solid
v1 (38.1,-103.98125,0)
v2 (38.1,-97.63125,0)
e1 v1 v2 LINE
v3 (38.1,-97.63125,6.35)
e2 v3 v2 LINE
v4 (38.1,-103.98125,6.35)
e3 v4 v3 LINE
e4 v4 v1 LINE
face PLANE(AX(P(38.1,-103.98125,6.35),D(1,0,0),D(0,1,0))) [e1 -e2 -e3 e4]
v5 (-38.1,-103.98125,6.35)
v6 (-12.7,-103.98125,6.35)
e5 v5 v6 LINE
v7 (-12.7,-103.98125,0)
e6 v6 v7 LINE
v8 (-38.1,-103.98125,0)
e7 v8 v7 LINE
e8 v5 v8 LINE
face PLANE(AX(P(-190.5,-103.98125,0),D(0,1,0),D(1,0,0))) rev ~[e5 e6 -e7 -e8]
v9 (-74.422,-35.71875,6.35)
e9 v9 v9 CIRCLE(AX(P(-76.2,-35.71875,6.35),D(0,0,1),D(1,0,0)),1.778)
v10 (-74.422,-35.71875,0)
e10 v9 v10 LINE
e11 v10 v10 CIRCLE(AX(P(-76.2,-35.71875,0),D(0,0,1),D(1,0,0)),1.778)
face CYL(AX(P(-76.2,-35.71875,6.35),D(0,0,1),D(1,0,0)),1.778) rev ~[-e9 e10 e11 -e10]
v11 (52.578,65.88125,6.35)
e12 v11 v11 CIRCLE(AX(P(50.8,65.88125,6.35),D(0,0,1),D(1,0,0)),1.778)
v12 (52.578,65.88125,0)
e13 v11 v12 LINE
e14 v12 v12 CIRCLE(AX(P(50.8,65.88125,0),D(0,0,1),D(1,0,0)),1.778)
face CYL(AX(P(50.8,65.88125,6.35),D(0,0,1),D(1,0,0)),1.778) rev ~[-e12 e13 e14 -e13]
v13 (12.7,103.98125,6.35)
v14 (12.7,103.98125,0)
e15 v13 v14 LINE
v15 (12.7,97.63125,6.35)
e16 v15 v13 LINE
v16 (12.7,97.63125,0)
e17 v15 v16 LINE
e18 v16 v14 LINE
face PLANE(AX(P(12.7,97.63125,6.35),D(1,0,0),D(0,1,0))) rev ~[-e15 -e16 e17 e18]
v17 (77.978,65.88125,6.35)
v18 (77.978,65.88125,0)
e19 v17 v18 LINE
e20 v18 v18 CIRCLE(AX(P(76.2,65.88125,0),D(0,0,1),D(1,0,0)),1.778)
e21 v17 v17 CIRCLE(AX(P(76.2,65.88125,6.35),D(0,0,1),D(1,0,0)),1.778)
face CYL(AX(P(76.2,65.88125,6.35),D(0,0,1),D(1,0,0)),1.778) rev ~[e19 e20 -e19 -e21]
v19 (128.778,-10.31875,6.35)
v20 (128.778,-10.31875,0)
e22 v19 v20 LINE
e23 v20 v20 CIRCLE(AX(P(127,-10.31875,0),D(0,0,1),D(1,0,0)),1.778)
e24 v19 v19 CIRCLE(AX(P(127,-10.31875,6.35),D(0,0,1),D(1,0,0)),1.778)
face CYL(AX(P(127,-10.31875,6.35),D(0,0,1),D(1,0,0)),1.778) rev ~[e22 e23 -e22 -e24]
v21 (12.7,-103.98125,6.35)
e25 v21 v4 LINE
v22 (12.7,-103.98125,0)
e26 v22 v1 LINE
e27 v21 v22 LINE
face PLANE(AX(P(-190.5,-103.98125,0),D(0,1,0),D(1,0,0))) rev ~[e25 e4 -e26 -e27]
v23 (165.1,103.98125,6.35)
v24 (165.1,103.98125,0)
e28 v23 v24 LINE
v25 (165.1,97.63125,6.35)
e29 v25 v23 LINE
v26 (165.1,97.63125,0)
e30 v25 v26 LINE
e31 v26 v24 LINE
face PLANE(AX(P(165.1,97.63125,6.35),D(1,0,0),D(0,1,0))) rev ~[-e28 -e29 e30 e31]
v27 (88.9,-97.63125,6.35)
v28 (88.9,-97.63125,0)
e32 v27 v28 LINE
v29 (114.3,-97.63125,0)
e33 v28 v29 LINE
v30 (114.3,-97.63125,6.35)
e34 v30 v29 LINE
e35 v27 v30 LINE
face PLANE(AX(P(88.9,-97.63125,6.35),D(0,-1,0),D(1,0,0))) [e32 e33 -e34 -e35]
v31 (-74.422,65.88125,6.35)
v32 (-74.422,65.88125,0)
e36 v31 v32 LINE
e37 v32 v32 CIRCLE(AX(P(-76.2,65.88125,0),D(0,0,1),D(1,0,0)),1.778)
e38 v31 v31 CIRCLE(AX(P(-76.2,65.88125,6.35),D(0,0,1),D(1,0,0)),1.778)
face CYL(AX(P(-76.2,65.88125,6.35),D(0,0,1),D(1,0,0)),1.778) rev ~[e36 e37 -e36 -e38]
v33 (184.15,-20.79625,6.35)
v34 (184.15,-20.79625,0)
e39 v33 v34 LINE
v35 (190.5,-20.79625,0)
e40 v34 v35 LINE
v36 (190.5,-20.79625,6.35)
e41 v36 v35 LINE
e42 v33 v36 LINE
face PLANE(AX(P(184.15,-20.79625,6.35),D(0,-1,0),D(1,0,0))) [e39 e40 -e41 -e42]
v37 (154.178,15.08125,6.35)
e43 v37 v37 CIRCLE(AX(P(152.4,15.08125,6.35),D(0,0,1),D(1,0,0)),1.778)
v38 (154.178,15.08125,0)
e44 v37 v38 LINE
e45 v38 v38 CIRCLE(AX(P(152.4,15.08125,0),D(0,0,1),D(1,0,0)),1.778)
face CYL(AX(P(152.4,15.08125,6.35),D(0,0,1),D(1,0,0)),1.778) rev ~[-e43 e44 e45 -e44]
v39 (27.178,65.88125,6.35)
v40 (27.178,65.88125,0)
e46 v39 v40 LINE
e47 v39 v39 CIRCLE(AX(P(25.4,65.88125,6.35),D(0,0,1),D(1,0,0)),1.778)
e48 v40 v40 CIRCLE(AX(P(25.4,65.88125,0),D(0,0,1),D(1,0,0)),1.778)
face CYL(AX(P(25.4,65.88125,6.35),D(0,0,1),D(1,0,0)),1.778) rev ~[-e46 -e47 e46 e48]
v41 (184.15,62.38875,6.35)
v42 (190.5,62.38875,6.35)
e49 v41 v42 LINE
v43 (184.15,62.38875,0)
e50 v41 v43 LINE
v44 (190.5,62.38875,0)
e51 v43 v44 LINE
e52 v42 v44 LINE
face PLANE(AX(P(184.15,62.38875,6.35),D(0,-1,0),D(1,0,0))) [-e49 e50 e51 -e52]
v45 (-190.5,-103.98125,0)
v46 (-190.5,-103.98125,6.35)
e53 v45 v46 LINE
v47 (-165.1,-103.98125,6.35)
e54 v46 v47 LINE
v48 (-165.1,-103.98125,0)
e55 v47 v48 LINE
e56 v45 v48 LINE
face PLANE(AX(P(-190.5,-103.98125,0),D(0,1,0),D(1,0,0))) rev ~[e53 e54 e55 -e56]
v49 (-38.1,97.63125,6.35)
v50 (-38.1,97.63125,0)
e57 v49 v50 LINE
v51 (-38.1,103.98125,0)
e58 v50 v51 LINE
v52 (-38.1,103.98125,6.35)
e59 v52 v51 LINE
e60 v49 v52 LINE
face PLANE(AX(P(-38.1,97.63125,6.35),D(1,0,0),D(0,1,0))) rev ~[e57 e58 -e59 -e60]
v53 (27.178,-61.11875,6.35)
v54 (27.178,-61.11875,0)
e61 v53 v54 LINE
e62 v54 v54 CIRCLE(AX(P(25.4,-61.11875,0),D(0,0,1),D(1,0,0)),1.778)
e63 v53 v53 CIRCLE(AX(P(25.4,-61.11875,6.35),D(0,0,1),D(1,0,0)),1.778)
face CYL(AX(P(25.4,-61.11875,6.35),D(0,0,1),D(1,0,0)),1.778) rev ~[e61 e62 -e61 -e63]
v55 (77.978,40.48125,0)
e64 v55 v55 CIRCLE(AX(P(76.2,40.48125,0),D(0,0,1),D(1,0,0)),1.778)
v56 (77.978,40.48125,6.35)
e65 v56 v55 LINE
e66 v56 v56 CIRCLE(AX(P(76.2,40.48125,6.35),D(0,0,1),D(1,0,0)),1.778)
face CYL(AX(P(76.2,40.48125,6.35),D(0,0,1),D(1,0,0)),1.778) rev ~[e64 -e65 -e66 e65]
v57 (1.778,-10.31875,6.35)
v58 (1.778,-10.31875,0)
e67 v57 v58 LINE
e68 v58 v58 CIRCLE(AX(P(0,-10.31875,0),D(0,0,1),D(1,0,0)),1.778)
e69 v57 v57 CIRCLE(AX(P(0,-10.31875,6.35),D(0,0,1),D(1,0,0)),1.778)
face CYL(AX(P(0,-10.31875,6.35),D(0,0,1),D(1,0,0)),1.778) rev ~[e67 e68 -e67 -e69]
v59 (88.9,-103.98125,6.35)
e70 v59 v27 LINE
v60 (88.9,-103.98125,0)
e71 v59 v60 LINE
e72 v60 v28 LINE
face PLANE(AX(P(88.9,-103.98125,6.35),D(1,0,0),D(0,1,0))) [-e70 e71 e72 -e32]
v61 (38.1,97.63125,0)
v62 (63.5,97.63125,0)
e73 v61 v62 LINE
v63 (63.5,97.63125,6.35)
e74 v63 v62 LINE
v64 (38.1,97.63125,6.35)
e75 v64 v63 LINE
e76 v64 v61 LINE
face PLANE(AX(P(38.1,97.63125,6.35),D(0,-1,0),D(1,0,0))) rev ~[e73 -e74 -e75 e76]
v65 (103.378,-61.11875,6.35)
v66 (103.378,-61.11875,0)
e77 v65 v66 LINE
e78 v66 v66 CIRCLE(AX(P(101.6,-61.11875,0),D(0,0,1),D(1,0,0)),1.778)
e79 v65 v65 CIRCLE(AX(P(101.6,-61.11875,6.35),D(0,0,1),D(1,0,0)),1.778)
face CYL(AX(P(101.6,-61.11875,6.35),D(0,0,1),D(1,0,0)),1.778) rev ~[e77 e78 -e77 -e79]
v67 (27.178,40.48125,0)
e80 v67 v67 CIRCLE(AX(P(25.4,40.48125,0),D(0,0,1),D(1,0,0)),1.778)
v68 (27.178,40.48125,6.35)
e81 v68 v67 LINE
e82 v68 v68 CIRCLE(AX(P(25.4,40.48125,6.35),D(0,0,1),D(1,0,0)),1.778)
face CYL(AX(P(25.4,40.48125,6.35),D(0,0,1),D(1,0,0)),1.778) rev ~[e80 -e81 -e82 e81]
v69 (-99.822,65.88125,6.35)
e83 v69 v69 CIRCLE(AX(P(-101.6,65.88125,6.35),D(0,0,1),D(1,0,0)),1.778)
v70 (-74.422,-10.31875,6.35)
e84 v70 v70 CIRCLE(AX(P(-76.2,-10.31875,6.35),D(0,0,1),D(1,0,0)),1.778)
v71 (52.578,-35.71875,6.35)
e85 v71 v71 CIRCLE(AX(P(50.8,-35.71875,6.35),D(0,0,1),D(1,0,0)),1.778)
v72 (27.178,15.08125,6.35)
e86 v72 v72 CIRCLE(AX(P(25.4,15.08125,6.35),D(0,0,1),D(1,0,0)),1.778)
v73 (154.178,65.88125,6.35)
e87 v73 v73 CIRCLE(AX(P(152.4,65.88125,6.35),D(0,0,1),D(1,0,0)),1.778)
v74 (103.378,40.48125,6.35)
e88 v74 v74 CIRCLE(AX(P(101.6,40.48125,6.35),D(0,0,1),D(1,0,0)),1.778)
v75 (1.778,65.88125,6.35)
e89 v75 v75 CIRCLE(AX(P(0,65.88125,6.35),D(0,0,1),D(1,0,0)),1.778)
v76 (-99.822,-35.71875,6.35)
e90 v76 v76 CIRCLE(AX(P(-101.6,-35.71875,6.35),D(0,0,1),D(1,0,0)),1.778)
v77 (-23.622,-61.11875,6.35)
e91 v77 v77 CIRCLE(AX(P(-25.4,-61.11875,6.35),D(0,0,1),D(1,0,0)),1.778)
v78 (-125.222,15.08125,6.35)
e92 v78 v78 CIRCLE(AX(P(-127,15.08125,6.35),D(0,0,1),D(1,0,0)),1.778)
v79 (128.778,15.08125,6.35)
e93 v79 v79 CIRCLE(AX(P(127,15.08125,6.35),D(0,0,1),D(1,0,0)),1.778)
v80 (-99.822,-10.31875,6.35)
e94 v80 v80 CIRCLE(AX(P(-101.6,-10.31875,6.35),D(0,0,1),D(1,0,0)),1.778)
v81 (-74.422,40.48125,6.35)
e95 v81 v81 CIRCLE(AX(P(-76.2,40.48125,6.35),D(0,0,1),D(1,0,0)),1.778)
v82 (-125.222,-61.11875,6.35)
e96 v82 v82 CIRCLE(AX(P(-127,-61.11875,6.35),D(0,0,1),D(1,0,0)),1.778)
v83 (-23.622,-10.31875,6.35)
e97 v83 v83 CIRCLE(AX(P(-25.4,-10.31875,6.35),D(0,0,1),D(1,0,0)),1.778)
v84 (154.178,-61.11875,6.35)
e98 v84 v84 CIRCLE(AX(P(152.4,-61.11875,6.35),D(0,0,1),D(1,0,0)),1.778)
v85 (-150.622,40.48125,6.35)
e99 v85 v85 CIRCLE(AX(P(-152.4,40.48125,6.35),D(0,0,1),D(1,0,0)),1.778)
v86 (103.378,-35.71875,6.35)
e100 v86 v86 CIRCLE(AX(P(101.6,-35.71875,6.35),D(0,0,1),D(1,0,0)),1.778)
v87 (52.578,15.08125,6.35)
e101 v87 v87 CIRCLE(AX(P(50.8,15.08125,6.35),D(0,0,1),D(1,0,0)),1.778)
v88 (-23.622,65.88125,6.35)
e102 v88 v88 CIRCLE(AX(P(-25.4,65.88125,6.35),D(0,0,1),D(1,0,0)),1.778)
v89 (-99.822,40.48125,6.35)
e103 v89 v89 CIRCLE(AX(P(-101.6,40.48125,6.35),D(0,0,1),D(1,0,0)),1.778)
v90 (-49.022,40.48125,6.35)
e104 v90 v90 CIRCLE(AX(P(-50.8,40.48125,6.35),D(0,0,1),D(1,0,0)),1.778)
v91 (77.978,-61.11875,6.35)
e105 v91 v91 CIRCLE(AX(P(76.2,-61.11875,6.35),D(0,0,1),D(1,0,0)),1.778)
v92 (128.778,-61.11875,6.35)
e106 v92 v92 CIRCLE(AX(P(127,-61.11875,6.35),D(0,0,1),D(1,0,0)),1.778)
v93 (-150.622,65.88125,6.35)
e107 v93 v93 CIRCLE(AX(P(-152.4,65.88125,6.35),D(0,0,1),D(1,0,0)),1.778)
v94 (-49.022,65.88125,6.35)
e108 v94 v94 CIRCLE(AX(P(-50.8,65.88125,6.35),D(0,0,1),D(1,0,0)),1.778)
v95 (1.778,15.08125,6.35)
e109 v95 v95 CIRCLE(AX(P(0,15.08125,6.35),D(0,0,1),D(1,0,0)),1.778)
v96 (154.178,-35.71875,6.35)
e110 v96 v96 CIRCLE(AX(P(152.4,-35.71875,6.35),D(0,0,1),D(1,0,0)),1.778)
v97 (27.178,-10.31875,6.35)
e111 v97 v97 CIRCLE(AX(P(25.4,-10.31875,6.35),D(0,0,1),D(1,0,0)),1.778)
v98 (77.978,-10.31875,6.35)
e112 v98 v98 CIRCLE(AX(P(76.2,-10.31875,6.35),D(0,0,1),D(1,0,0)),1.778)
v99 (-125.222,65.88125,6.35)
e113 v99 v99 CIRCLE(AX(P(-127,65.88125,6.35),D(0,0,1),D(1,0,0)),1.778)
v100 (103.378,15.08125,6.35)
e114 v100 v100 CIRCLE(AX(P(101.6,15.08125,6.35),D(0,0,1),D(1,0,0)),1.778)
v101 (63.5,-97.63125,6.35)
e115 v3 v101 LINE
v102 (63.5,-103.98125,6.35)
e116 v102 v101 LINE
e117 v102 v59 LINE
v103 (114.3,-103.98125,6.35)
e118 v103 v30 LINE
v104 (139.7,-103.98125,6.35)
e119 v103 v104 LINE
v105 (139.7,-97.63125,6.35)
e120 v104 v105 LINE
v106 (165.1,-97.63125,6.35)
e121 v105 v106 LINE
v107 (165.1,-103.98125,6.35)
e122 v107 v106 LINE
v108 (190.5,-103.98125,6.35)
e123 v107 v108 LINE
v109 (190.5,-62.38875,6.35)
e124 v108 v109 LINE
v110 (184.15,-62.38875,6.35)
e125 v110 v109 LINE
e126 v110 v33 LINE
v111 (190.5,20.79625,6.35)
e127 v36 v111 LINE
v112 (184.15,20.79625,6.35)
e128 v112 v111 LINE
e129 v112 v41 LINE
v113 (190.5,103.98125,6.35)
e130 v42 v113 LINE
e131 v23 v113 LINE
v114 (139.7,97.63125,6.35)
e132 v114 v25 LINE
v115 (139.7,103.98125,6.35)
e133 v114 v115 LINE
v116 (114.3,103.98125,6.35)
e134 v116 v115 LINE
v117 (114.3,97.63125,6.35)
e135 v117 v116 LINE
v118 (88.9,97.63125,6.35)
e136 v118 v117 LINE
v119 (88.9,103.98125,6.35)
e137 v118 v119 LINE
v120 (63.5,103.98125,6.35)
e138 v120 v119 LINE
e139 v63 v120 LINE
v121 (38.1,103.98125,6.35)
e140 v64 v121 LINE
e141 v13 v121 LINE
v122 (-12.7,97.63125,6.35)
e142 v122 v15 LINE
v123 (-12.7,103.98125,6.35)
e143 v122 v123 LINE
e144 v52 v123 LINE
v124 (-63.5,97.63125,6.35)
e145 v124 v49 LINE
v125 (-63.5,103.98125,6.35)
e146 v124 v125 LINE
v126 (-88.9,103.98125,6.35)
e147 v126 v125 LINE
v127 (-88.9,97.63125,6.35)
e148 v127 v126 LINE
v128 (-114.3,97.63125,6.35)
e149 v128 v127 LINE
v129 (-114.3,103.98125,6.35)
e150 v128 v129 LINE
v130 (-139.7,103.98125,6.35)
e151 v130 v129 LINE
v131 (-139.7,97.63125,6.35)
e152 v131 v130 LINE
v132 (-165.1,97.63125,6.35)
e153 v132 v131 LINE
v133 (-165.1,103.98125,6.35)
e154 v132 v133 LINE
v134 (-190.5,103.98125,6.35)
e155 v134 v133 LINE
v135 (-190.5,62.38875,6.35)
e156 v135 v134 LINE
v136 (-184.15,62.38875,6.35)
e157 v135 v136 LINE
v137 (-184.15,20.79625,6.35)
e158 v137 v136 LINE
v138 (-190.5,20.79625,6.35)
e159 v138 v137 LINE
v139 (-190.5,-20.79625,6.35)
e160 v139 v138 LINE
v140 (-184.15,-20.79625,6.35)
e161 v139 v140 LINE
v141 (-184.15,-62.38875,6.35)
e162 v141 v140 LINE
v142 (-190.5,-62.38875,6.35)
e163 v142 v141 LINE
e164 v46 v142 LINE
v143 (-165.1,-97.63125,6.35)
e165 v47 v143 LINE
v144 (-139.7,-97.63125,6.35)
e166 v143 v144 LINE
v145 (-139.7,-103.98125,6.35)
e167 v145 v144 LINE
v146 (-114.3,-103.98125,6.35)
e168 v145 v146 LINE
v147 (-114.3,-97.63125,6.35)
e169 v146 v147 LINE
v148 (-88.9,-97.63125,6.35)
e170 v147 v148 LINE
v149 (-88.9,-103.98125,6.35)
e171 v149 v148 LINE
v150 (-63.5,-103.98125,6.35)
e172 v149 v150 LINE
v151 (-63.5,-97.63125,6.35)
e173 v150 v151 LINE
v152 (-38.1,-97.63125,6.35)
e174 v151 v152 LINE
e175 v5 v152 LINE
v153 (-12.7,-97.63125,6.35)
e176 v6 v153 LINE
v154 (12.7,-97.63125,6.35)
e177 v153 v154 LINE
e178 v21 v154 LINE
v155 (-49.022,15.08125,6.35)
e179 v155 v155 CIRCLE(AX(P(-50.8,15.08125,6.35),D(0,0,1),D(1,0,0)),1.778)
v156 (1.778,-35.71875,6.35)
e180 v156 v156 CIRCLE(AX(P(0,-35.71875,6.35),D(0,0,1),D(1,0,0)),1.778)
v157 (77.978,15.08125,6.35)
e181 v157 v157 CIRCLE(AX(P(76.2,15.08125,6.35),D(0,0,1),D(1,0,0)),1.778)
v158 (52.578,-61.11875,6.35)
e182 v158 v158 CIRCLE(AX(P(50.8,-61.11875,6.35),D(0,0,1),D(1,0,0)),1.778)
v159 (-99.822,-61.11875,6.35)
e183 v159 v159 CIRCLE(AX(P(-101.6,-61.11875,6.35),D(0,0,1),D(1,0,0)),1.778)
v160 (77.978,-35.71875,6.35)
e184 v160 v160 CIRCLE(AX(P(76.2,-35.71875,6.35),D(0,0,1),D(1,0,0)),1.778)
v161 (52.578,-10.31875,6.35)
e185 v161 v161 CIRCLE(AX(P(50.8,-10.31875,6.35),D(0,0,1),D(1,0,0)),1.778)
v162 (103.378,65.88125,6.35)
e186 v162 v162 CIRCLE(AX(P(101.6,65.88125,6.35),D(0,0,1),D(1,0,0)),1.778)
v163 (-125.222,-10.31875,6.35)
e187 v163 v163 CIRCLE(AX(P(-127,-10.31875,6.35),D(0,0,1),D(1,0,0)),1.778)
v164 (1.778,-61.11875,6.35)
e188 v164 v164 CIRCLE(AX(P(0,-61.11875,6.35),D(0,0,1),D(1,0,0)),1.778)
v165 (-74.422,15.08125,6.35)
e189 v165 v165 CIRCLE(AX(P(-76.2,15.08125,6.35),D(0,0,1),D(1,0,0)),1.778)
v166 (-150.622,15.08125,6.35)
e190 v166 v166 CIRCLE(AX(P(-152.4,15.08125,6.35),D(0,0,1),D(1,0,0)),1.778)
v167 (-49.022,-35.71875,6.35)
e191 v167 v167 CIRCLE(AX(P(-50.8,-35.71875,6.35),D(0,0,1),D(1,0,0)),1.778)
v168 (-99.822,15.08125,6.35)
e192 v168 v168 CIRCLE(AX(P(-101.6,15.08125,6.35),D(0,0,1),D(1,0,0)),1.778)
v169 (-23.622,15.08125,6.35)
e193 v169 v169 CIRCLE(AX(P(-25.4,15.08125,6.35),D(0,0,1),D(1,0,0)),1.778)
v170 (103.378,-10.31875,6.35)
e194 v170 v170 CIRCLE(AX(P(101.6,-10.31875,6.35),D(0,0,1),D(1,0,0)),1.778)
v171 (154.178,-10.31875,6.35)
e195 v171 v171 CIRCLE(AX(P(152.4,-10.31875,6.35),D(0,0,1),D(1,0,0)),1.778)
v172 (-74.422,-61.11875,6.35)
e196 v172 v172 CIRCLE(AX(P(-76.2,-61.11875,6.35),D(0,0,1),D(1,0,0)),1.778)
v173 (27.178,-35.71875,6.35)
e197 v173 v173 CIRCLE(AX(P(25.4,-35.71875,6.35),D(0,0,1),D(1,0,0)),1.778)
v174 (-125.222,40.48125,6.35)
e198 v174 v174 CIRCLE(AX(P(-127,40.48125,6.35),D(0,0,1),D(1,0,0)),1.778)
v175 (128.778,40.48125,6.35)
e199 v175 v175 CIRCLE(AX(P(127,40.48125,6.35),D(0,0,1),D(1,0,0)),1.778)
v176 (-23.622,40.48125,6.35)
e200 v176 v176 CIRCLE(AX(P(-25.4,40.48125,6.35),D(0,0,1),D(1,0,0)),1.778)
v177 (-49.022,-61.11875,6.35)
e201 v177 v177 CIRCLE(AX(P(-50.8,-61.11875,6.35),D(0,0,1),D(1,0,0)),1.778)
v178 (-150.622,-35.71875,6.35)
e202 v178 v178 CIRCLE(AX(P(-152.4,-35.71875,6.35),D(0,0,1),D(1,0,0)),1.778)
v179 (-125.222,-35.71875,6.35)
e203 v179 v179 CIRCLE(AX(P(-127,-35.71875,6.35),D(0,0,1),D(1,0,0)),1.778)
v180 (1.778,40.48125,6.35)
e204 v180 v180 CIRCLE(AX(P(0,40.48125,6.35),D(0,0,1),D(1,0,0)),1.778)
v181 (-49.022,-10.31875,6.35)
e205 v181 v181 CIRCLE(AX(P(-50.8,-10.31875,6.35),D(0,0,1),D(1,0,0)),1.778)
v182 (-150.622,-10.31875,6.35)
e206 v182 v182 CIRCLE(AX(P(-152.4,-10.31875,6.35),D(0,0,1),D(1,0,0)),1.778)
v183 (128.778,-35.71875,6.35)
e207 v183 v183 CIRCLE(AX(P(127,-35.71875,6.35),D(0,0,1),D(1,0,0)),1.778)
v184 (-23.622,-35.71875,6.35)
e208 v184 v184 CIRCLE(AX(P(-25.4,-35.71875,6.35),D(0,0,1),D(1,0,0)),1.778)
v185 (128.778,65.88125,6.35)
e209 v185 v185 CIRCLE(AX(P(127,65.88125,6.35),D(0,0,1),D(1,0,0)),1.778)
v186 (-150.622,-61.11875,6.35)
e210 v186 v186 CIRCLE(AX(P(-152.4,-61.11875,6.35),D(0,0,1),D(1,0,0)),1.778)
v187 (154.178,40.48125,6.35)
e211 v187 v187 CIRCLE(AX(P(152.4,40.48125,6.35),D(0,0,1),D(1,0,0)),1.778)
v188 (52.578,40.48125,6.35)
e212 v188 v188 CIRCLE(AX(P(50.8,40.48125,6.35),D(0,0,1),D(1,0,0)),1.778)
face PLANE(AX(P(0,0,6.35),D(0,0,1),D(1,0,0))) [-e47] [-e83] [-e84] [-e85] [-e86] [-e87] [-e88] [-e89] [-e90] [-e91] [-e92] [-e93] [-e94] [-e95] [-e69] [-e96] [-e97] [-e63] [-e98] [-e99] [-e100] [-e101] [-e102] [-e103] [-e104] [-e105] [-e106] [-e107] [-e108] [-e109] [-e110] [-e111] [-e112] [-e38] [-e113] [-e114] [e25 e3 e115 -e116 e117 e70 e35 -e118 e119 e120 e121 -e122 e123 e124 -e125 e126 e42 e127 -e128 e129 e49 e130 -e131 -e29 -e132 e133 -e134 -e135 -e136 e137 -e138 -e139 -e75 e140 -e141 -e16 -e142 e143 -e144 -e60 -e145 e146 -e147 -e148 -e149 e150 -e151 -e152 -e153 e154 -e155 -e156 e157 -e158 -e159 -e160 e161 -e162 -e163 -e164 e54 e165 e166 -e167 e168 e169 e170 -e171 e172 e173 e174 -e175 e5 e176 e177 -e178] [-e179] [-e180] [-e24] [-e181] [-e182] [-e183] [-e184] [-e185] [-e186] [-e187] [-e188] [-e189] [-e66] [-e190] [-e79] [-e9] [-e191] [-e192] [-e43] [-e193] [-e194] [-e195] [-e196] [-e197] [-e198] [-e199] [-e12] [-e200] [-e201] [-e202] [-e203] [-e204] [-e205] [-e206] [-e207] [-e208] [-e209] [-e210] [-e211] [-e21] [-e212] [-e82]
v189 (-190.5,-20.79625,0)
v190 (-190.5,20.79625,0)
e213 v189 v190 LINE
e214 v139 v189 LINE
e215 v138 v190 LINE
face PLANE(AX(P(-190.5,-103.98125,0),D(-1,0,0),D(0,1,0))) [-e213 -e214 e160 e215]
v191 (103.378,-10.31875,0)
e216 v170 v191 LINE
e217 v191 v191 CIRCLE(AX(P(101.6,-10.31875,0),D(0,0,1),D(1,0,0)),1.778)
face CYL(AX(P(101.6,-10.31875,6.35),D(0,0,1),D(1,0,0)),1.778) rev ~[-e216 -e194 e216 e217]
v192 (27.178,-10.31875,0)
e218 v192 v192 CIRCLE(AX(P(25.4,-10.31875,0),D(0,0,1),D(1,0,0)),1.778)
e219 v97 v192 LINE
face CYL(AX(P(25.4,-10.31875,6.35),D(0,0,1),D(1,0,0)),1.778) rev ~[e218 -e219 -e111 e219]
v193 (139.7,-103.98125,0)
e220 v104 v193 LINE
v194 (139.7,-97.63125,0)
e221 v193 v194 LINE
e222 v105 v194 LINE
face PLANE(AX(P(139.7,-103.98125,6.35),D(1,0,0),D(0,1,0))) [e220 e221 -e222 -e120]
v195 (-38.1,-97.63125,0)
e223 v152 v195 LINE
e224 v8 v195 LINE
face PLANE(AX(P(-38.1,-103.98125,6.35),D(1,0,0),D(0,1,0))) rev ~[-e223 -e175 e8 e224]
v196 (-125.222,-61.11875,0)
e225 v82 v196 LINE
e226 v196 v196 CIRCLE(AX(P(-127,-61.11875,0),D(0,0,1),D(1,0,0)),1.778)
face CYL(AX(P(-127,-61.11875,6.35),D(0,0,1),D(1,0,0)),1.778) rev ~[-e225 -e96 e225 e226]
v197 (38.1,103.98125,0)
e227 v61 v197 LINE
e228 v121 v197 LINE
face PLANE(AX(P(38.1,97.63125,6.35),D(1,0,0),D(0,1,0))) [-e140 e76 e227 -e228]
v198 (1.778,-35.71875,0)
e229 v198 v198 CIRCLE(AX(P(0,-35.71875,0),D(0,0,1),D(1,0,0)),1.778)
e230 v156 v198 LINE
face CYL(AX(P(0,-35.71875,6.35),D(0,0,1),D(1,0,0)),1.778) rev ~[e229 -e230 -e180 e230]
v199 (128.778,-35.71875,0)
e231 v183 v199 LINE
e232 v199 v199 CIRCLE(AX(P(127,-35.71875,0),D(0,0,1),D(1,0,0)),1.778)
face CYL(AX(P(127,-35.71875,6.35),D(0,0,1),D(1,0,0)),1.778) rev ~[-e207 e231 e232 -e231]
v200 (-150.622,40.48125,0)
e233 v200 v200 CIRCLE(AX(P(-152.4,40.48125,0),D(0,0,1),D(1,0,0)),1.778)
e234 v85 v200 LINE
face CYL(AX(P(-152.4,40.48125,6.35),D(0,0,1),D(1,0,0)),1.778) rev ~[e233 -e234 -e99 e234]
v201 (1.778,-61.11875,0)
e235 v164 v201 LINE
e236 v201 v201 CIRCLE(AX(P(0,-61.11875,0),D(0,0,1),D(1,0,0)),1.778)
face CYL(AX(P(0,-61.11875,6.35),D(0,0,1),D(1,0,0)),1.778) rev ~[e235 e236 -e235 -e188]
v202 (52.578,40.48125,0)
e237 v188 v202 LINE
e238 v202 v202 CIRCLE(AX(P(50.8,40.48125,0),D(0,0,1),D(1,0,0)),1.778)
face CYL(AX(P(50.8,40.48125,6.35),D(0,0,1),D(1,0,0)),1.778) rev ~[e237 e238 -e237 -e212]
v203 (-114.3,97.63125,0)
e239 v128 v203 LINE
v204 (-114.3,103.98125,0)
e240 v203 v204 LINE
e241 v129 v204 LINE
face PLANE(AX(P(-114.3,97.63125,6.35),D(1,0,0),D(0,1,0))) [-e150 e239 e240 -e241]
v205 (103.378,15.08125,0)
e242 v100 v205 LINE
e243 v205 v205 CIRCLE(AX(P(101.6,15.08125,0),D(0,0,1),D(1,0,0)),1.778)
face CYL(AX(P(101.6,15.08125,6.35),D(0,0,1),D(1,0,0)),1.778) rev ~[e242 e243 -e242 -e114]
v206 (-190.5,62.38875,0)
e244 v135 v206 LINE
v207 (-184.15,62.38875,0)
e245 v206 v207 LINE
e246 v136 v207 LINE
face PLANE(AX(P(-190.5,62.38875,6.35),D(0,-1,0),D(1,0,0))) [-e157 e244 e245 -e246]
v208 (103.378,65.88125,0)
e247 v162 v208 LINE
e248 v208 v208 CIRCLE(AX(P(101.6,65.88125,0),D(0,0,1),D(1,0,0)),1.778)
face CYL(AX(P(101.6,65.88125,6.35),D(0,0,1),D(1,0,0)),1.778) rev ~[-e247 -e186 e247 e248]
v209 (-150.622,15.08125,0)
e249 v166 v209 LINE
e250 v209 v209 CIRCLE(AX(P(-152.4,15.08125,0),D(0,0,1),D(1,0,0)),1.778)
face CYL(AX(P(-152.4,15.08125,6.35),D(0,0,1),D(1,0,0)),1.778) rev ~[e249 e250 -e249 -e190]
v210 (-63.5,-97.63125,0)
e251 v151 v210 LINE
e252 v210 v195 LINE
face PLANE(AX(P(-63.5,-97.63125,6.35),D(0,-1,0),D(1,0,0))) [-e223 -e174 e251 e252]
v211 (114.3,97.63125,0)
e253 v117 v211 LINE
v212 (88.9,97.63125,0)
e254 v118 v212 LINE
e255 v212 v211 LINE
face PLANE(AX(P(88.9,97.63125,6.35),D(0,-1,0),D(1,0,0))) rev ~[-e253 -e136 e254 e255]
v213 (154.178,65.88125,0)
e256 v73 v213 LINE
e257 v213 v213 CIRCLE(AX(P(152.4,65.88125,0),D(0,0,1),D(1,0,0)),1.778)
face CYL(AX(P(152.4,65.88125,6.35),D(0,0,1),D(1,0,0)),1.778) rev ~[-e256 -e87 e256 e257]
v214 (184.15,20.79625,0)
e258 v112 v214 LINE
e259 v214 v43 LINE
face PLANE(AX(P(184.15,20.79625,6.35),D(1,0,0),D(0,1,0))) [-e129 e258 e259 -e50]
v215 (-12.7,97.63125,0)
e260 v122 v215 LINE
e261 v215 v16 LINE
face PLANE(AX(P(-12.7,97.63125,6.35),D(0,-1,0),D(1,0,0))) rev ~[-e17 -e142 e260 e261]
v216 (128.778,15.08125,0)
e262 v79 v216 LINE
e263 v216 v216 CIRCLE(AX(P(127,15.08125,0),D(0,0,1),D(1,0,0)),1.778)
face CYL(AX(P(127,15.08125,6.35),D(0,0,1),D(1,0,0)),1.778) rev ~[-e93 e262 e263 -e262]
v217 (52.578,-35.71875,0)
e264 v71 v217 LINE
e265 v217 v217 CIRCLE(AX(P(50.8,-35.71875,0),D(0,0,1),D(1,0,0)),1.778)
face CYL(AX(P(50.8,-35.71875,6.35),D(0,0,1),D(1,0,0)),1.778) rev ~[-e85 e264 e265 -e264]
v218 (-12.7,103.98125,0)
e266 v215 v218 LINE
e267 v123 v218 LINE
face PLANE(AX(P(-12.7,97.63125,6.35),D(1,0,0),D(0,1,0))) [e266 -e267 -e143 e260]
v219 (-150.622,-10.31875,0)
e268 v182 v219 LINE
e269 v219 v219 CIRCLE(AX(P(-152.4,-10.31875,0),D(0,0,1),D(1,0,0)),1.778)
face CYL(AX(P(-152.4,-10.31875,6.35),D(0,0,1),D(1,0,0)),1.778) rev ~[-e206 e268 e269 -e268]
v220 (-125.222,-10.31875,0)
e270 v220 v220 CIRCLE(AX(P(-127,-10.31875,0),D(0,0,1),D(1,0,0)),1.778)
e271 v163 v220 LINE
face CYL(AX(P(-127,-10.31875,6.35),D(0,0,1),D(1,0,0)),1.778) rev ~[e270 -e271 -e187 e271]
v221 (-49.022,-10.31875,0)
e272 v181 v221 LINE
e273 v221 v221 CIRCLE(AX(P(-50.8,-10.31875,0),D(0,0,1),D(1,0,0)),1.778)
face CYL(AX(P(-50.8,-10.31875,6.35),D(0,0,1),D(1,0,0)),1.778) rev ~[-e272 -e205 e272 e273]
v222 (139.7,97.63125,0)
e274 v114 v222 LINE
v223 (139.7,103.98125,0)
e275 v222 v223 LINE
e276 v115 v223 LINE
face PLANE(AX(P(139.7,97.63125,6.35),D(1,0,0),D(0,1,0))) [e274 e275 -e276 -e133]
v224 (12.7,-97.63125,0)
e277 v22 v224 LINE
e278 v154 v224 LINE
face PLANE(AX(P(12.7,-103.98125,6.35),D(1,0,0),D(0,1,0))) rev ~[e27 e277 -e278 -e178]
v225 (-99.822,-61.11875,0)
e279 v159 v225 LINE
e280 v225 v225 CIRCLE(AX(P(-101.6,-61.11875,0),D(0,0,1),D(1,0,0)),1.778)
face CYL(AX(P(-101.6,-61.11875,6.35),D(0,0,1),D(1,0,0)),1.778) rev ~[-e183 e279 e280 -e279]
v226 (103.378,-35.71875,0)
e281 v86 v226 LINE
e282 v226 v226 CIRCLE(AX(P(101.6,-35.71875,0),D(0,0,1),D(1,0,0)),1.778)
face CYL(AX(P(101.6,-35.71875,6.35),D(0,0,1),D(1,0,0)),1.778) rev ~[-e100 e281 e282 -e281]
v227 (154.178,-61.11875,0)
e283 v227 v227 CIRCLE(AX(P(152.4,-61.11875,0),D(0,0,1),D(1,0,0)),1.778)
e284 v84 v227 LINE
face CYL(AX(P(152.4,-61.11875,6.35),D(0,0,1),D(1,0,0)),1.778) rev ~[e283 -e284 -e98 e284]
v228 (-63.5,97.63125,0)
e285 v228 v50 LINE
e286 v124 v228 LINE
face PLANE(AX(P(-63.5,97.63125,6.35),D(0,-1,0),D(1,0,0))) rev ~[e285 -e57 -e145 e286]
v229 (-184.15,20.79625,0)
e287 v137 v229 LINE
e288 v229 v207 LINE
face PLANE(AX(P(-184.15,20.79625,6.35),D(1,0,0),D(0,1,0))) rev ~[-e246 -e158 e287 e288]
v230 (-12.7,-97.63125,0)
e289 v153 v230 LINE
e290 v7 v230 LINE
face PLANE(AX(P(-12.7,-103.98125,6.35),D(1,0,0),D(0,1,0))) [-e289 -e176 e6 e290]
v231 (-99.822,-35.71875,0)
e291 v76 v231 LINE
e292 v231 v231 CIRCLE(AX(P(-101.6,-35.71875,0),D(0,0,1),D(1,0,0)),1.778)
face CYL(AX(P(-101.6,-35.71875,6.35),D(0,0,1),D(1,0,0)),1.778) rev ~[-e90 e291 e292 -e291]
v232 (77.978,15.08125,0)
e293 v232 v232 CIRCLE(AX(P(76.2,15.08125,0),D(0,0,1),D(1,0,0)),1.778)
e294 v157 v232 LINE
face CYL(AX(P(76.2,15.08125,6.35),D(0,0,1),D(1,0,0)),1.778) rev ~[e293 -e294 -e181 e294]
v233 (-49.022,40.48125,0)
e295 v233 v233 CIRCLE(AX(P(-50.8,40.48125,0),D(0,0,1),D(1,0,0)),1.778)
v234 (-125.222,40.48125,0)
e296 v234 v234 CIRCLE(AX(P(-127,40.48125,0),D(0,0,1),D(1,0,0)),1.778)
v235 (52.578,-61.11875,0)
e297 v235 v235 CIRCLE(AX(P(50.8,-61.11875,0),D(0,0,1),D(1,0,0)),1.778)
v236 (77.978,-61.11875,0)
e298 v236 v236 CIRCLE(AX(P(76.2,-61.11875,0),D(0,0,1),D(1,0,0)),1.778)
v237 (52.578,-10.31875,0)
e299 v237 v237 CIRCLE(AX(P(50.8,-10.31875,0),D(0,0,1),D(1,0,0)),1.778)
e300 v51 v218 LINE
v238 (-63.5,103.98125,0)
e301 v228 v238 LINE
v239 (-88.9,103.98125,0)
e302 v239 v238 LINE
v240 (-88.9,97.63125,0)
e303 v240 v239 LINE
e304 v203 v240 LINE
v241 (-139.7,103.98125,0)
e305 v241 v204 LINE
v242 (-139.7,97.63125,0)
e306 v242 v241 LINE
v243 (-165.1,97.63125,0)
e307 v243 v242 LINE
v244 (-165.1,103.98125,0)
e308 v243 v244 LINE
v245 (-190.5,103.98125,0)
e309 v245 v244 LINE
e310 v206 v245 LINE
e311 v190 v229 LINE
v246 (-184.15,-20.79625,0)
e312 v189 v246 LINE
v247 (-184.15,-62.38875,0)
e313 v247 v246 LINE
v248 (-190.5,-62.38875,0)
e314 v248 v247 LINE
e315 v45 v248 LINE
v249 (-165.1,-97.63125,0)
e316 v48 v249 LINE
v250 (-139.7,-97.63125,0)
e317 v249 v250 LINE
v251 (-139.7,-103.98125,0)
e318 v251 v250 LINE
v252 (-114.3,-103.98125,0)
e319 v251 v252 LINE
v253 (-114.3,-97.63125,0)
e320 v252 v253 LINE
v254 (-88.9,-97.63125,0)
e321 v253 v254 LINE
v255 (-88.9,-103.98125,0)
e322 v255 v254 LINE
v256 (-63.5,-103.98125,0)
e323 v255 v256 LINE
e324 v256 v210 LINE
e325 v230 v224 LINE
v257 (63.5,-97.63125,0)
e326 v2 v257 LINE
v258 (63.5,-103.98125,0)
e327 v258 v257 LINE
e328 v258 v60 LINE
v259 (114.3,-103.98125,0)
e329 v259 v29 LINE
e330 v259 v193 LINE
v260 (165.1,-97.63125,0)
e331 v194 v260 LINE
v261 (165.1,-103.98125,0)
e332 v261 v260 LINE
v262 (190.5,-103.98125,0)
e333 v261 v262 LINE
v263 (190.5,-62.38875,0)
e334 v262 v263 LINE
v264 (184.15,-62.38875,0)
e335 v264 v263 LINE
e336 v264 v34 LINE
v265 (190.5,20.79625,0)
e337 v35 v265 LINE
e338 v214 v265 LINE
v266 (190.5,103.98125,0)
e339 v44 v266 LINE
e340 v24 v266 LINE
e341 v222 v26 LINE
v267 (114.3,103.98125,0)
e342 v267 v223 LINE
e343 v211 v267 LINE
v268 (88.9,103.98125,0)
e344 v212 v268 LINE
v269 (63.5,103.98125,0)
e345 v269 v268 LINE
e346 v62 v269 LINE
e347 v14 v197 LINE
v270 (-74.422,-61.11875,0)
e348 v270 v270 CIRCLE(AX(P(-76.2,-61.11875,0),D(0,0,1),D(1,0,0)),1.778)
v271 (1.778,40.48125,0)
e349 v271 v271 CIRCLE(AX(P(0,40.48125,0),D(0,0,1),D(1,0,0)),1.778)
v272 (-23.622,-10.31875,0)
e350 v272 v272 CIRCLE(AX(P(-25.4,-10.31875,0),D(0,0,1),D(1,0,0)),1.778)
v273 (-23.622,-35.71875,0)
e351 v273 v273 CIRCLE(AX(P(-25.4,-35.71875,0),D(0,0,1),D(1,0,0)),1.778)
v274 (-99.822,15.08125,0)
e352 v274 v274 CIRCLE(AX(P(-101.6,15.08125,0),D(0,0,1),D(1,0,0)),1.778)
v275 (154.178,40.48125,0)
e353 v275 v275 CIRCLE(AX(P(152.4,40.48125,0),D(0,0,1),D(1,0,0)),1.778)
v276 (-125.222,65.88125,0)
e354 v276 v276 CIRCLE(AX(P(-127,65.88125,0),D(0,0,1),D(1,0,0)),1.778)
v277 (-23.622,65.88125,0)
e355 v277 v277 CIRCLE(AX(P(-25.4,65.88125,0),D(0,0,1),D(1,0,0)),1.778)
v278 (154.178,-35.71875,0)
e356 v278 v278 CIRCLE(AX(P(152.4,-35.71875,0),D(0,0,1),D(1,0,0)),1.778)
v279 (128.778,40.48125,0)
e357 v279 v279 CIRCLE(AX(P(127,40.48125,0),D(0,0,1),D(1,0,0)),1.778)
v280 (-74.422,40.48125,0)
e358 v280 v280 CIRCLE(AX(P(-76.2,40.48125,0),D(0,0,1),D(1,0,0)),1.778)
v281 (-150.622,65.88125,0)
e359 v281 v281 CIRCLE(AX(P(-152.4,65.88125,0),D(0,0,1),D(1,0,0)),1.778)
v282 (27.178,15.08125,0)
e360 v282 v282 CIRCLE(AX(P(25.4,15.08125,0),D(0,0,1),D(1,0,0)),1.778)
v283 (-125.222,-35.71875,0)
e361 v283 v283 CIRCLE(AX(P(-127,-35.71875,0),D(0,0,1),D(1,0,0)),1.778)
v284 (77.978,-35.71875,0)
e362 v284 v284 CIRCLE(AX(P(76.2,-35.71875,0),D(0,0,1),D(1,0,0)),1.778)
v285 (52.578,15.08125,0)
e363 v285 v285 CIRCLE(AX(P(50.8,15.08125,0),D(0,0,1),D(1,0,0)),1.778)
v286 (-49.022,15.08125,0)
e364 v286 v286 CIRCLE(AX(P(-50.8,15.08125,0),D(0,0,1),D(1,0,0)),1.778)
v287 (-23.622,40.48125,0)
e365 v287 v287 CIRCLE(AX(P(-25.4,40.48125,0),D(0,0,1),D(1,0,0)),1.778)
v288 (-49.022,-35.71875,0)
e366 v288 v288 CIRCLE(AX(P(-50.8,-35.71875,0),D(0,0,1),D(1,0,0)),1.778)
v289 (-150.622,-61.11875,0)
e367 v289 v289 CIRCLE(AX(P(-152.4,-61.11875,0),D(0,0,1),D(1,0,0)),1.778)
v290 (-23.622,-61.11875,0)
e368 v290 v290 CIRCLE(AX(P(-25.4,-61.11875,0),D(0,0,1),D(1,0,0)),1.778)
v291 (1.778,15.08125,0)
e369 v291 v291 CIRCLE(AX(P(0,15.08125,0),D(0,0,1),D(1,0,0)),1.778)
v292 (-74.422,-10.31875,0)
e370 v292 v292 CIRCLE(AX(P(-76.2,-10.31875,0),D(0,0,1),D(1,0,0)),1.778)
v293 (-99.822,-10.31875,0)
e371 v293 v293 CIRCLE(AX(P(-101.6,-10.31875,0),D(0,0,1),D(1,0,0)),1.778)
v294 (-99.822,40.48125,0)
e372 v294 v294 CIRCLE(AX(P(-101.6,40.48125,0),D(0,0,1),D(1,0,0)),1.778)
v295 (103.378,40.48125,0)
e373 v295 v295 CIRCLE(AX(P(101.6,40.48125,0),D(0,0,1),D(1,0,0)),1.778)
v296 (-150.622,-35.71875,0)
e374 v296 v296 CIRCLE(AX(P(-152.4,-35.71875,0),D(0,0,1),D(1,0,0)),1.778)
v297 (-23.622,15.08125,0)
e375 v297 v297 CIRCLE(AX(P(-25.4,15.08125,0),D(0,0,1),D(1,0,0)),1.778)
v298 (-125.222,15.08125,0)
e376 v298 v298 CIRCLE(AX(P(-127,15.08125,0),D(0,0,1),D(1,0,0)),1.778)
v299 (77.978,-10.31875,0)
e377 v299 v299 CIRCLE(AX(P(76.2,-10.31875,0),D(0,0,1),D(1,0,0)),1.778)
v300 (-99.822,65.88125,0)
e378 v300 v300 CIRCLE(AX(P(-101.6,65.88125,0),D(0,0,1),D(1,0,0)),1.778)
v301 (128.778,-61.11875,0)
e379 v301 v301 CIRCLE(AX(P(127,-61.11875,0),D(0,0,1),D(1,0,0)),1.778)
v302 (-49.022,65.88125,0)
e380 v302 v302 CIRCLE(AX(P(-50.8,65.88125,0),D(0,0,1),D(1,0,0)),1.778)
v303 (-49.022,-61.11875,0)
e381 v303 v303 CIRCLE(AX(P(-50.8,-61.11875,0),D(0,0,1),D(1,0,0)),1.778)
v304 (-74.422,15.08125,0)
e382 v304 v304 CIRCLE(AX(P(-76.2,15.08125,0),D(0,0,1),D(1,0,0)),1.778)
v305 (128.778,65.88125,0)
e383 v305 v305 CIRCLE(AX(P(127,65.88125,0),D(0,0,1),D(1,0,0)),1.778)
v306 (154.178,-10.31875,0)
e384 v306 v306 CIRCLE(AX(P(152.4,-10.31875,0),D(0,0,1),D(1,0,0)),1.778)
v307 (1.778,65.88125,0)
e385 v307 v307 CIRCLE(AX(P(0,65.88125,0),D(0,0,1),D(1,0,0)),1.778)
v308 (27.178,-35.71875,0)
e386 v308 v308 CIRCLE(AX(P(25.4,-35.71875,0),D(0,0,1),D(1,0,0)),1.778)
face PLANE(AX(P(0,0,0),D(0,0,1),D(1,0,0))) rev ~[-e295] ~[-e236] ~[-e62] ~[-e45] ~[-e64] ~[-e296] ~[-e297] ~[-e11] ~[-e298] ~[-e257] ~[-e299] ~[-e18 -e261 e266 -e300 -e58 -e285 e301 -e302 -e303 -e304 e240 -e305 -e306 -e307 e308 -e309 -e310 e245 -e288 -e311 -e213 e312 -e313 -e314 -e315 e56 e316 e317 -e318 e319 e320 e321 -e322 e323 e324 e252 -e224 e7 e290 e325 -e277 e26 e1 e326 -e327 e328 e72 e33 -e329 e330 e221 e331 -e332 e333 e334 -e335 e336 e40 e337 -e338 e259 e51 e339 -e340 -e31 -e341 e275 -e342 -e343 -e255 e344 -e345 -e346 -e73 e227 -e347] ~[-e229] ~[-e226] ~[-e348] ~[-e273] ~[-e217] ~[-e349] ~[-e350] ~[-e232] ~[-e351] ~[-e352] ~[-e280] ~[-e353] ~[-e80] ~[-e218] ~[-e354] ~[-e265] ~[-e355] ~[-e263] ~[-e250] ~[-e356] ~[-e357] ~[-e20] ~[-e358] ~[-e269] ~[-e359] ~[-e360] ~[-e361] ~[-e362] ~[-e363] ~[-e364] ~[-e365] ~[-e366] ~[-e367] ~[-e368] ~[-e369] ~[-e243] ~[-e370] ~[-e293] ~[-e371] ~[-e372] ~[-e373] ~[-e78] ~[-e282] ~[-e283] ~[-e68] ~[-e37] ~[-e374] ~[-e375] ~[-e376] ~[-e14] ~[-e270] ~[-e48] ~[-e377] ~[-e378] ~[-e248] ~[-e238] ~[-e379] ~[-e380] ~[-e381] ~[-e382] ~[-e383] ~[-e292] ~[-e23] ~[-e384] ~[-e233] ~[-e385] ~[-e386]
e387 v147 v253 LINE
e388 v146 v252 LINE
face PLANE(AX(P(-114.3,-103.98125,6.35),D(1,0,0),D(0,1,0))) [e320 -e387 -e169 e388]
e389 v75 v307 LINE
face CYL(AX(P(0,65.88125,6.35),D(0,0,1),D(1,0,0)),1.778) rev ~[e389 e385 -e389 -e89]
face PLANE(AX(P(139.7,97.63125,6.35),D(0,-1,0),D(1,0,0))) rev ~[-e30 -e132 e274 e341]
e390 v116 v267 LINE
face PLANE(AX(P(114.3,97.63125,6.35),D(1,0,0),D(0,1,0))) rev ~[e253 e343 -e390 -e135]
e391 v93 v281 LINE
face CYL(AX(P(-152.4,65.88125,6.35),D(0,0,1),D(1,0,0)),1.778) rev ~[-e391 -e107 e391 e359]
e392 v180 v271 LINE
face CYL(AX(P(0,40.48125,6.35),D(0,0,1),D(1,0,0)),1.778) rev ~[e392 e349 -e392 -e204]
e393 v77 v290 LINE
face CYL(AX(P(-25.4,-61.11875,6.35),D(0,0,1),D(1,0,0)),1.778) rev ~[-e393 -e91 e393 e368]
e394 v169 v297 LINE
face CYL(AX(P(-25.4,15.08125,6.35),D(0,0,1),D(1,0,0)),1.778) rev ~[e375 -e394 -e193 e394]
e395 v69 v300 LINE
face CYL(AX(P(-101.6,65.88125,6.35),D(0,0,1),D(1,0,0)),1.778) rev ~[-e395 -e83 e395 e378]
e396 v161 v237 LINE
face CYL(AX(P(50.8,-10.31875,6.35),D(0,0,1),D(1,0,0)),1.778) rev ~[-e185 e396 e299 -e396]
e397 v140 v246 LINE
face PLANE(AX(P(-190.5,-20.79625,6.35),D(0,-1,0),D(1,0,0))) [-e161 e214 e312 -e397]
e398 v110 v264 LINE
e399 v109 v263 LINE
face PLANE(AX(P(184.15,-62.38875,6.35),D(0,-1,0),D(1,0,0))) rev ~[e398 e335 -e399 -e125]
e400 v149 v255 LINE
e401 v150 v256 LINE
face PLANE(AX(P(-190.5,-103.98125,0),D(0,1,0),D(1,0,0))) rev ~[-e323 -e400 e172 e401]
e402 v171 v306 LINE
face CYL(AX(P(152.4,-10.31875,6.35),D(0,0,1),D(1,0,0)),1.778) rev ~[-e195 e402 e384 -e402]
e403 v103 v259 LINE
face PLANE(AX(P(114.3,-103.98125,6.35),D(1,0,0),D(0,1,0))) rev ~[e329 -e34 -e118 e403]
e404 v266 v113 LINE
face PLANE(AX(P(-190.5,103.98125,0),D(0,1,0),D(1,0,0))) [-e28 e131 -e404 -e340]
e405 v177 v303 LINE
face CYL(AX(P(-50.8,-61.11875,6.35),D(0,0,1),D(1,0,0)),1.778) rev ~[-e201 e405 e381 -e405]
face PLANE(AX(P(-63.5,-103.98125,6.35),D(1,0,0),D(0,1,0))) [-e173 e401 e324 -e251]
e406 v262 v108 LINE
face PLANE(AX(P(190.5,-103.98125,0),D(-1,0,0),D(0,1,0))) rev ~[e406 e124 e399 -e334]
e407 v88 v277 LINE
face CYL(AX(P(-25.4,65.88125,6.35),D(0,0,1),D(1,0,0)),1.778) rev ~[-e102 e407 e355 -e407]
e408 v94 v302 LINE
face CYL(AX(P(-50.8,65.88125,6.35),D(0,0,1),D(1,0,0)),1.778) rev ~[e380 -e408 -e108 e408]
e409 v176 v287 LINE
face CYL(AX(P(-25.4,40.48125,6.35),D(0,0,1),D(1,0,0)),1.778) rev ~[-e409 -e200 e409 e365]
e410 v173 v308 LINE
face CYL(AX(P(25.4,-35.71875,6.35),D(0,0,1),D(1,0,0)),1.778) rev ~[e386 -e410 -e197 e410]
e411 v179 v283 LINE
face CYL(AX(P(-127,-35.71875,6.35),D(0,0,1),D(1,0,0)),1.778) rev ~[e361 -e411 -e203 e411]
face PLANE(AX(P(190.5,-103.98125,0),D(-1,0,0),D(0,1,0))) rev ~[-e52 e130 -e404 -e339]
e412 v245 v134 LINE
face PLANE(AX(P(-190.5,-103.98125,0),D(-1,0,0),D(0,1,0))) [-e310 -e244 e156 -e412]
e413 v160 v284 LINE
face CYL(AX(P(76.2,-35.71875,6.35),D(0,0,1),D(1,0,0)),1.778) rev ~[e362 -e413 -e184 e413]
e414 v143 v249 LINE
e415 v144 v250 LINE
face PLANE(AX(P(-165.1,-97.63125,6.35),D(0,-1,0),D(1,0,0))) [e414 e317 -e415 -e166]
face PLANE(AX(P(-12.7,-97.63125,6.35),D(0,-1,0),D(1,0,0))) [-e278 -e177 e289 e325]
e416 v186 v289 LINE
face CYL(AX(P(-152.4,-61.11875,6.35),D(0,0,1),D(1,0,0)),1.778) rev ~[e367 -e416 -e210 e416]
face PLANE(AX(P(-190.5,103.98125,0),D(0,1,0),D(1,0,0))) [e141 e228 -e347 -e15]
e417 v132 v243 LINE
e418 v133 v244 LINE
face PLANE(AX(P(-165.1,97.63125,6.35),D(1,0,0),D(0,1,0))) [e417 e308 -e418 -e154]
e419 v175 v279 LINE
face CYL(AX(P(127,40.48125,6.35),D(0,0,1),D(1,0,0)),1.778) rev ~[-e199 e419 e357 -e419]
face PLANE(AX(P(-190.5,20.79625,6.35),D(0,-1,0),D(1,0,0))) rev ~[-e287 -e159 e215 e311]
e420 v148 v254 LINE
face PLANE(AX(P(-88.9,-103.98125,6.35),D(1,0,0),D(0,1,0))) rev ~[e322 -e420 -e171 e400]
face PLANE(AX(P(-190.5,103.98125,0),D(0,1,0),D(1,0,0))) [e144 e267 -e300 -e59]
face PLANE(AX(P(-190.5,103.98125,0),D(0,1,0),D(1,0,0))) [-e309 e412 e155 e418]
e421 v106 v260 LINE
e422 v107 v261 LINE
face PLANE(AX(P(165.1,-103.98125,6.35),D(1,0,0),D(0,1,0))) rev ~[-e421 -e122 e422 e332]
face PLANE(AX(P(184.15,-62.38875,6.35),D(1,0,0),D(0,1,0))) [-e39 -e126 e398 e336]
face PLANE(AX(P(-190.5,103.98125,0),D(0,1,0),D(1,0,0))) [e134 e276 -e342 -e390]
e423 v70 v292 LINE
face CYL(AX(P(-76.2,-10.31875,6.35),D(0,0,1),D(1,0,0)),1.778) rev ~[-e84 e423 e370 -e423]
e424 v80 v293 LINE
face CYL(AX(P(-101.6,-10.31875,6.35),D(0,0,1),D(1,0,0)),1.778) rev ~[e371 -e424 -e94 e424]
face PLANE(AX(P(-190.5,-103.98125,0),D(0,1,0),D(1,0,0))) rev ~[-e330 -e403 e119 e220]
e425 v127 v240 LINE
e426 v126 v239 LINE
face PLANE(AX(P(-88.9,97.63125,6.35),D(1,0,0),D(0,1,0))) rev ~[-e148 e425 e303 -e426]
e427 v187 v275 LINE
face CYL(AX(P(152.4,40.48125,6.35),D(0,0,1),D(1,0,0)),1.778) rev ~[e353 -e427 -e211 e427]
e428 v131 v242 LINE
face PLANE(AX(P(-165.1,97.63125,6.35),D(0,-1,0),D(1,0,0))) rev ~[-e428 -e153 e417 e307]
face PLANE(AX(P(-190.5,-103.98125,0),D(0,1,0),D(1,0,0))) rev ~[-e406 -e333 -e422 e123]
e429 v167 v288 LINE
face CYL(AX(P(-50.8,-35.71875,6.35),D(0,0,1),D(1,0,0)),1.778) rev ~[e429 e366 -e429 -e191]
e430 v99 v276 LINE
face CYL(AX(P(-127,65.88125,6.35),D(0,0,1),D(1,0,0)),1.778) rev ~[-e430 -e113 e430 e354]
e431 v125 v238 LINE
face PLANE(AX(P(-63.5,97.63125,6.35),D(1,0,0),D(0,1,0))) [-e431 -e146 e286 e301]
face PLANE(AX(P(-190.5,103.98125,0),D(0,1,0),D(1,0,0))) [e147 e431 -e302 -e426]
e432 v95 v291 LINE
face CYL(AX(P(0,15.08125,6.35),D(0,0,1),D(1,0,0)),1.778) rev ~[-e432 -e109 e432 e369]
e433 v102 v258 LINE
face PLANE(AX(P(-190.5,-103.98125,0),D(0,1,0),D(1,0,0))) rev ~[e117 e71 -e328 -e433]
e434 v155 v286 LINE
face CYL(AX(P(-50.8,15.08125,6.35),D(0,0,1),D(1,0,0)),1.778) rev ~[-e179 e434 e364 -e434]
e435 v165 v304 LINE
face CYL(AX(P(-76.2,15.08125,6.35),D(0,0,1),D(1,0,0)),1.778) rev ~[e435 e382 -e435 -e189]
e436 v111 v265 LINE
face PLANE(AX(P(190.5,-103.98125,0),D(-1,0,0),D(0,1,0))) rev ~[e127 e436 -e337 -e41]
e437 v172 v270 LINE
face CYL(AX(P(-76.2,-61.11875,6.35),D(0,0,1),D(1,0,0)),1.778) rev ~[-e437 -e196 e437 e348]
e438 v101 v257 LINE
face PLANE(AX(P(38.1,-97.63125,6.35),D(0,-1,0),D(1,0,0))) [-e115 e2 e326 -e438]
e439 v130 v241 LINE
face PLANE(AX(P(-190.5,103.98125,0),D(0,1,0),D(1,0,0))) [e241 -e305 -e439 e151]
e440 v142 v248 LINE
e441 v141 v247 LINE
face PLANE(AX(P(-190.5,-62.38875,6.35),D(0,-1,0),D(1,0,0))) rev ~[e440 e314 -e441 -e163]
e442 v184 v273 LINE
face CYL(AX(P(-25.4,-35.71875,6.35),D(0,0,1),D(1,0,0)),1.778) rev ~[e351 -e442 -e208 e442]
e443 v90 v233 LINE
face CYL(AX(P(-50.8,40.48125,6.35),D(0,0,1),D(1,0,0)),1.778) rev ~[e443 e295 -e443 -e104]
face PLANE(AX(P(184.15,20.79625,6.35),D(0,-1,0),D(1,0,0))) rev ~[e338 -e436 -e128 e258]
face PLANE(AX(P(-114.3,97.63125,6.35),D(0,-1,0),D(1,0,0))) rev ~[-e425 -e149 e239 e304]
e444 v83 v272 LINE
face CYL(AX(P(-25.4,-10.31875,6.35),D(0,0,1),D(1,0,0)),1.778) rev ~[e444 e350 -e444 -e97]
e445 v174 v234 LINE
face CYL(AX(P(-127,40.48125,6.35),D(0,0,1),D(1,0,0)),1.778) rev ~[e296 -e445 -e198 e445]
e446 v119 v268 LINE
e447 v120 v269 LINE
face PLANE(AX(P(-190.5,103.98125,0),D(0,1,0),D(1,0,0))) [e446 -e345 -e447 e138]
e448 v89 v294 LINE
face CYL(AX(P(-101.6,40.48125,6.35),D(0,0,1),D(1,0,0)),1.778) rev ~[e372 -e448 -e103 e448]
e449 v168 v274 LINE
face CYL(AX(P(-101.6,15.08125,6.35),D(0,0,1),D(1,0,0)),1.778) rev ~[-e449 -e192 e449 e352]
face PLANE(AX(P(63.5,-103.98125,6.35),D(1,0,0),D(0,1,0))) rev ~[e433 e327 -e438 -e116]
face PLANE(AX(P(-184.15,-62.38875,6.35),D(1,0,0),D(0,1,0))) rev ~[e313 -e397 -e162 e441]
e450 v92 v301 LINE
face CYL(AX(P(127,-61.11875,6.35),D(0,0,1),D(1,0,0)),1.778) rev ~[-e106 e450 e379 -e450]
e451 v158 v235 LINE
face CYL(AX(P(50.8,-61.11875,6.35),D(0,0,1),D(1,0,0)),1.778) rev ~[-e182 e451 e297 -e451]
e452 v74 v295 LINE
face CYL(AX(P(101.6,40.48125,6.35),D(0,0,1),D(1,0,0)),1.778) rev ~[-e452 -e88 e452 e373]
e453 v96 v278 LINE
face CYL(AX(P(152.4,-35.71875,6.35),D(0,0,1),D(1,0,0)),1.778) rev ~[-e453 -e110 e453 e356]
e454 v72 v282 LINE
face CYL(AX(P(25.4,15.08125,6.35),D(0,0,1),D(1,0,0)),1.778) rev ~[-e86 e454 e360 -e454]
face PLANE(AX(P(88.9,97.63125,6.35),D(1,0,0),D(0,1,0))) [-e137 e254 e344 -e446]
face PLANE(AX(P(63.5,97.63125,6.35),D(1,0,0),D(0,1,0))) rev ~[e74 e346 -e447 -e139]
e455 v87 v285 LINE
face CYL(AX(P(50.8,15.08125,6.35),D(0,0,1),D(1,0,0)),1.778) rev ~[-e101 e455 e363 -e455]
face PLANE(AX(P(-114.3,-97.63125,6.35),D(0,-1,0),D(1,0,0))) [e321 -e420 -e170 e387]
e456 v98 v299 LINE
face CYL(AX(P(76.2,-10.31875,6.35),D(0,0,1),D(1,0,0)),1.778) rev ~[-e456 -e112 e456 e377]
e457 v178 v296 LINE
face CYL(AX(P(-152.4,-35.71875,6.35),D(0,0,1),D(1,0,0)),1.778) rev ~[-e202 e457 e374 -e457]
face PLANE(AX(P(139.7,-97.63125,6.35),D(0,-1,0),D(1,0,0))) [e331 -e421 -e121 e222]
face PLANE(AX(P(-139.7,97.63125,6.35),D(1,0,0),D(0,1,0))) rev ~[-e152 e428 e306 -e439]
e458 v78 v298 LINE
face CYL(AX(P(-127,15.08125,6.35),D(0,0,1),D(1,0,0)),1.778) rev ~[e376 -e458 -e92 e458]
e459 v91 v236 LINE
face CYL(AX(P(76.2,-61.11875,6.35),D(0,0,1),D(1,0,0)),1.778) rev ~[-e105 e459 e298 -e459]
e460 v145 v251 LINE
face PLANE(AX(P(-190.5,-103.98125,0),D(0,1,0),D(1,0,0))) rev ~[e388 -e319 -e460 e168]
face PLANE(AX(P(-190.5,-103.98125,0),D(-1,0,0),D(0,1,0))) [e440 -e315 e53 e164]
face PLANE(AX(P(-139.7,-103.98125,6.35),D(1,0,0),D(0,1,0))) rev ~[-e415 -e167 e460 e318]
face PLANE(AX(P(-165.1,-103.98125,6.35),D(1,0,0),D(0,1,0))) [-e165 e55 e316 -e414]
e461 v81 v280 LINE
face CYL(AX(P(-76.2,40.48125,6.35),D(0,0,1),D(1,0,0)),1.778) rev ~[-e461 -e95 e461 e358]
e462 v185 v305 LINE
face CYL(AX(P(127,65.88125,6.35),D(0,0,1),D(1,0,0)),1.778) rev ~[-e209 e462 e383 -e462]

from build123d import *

# Parameters (mm, degrees)
SKETCH1_W            = 381
SKETCH1_H            = 207.9625
BOSS_EXTRUDE1_DEPTH  = 6.35
SKETCH2_W            = 25.4
SKETCH2_H            = 6.35
CUT_EXTRUDE1_DEPTH   = 6.35
LPATTERN1_COUNT      = 7
LPATTERN1_PITCH      = 50.8
SKETCH3_W            = 6.35
SKETCH3_H            = 41.5925
CUT_EXTRUDE2_DEPTH   = 6.35
LPATTERN2_COUNT      = 2
LPATTERN2_PITCH      = 83.185
SKETCH5_W            = 25.4
SKETCH5_H            = 6.35
CUT_EXTRUDE3_DEPTH   = 6.35
LPATTERN3_COUNT      = 7
LPATTERN3_PITCH      = 50.8
SKETCH6_W            = 6.35
SKETCH6_H            = 41.5925
CUT_EXTRUDE4_DEPTH   = 6.35
LPATTERN4_COUNT      = 2
LPATTERN4_PITCH      = 83.185
SKETCH7_R            = 1.778
CUT_EXTRUDE5_DEPTH   = 6.35
LPATTERN5_COUNT      = 13
LPATTERN5_PITCH      = 25.4
LPATTERN5_COUNT_DIR2 = 6
LPATTERN5_PITCH_DIR2 = 25.4


with BuildPart() as part:
    # Sketch1 → Boss-Extrude1 (new body)
    with BuildSketch(Plane.XY):
        Rectangle(SKETCH1_W, SKETCH1_H)
    extrude(amount=BOSS_EXTRUDE1_DEPTH)

    # Sketch2 → Cut-Extrude1 (cut)
    with BuildSketch(Plane.XY.offset(6.35)):
        with Locations((-152.4, 100.80625)):
            Rectangle(SKETCH2_W, SKETCH2_H)
    cut_extrude1 = extrude(amount=-CUT_EXTRUDE1_DEPTH, mode=Mode.SUBTRACT)

    # LPattern1: Cut-Extrude1 ×7
    with Locations(*[(i * LPATTERN1_PITCH, 0, 0) for i in range(1, LPATTERN1_COUNT)]):
        add(cut_extrude1, mode=Mode.SUBTRACT)

    # Sketch3 → Cut-Extrude2 (cut)
    with BuildSketch(Plane.XY.offset(6.35)):
        with Locations((-187.325, 41.5925)):
            Rectangle(SKETCH3_W, SKETCH3_H)
    cut_extrude2 = extrude(amount=-CUT_EXTRUDE2_DEPTH, mode=Mode.SUBTRACT)

    # LPattern2: Cut-Extrude2 ×2
    with Locations(*[(0, -i * LPATTERN2_PITCH, 0) for i in range(1, LPATTERN2_COUNT)]):
        add(cut_extrude2, mode=Mode.SUBTRACT)

    # Sketch5 → Cut-Extrude3 (cut)
    with BuildSketch(Plane.XY.offset(6.35)):
        with Locations((-152.4, -100.80625)):
            Rectangle(SKETCH5_W, SKETCH5_H)
    cut_extrude3 = extrude(amount=-CUT_EXTRUDE3_DEPTH, mode=Mode.SUBTRACT)

    # LPattern3: Cut-Extrude3 ×7
    with Locations(*[(i * LPATTERN3_PITCH, 0, 0) for i in range(1, LPATTERN3_COUNT)]):
        add(cut_extrude3, mode=Mode.SUBTRACT)

    # Sketch6 → Cut-Extrude4 (cut)
    with BuildSketch(Plane.XY.offset(6.35)):
        with Locations((187.325, 41.5925)):
            Rectangle(SKETCH6_W, SKETCH6_H)
    cut_extrude4 = extrude(amount=-CUT_EXTRUDE4_DEPTH, mode=Mode.SUBTRACT)

    # LPattern4: Cut-Extrude4 ×2
    with Locations(*[(0, -i * LPATTERN4_PITCH, 0) for i in range(1, LPATTERN4_COUNT)]):
        add(cut_extrude4, mode=Mode.SUBTRACT)

    # Sketch7 → Cut-Extrude5 (cut)
    with BuildSketch(Plane.XY.offset(6.35)):
        with Locations((-152.4, 65.88125)):
            Circle(SKETCH7_R)
    cut_extrude5 = extrude(amount=-CUT_EXTRUDE5_DEPTH, mode=Mode.SUBTRACT)

    # LPattern5: Cut-Extrude5 13 × 6
    with Locations(*[(i * LPATTERN5_PITCH, -j * LPATTERN5_PITCH_DIR2, 0) for i in range(LPATTERN5_COUNT) for j in range(LPATTERN5_COUNT_DIR2) if (i, j) != (0, 0)]):
        add(cut_extrude5, mode=Mode.SUBTRACT)


solid = part.part
